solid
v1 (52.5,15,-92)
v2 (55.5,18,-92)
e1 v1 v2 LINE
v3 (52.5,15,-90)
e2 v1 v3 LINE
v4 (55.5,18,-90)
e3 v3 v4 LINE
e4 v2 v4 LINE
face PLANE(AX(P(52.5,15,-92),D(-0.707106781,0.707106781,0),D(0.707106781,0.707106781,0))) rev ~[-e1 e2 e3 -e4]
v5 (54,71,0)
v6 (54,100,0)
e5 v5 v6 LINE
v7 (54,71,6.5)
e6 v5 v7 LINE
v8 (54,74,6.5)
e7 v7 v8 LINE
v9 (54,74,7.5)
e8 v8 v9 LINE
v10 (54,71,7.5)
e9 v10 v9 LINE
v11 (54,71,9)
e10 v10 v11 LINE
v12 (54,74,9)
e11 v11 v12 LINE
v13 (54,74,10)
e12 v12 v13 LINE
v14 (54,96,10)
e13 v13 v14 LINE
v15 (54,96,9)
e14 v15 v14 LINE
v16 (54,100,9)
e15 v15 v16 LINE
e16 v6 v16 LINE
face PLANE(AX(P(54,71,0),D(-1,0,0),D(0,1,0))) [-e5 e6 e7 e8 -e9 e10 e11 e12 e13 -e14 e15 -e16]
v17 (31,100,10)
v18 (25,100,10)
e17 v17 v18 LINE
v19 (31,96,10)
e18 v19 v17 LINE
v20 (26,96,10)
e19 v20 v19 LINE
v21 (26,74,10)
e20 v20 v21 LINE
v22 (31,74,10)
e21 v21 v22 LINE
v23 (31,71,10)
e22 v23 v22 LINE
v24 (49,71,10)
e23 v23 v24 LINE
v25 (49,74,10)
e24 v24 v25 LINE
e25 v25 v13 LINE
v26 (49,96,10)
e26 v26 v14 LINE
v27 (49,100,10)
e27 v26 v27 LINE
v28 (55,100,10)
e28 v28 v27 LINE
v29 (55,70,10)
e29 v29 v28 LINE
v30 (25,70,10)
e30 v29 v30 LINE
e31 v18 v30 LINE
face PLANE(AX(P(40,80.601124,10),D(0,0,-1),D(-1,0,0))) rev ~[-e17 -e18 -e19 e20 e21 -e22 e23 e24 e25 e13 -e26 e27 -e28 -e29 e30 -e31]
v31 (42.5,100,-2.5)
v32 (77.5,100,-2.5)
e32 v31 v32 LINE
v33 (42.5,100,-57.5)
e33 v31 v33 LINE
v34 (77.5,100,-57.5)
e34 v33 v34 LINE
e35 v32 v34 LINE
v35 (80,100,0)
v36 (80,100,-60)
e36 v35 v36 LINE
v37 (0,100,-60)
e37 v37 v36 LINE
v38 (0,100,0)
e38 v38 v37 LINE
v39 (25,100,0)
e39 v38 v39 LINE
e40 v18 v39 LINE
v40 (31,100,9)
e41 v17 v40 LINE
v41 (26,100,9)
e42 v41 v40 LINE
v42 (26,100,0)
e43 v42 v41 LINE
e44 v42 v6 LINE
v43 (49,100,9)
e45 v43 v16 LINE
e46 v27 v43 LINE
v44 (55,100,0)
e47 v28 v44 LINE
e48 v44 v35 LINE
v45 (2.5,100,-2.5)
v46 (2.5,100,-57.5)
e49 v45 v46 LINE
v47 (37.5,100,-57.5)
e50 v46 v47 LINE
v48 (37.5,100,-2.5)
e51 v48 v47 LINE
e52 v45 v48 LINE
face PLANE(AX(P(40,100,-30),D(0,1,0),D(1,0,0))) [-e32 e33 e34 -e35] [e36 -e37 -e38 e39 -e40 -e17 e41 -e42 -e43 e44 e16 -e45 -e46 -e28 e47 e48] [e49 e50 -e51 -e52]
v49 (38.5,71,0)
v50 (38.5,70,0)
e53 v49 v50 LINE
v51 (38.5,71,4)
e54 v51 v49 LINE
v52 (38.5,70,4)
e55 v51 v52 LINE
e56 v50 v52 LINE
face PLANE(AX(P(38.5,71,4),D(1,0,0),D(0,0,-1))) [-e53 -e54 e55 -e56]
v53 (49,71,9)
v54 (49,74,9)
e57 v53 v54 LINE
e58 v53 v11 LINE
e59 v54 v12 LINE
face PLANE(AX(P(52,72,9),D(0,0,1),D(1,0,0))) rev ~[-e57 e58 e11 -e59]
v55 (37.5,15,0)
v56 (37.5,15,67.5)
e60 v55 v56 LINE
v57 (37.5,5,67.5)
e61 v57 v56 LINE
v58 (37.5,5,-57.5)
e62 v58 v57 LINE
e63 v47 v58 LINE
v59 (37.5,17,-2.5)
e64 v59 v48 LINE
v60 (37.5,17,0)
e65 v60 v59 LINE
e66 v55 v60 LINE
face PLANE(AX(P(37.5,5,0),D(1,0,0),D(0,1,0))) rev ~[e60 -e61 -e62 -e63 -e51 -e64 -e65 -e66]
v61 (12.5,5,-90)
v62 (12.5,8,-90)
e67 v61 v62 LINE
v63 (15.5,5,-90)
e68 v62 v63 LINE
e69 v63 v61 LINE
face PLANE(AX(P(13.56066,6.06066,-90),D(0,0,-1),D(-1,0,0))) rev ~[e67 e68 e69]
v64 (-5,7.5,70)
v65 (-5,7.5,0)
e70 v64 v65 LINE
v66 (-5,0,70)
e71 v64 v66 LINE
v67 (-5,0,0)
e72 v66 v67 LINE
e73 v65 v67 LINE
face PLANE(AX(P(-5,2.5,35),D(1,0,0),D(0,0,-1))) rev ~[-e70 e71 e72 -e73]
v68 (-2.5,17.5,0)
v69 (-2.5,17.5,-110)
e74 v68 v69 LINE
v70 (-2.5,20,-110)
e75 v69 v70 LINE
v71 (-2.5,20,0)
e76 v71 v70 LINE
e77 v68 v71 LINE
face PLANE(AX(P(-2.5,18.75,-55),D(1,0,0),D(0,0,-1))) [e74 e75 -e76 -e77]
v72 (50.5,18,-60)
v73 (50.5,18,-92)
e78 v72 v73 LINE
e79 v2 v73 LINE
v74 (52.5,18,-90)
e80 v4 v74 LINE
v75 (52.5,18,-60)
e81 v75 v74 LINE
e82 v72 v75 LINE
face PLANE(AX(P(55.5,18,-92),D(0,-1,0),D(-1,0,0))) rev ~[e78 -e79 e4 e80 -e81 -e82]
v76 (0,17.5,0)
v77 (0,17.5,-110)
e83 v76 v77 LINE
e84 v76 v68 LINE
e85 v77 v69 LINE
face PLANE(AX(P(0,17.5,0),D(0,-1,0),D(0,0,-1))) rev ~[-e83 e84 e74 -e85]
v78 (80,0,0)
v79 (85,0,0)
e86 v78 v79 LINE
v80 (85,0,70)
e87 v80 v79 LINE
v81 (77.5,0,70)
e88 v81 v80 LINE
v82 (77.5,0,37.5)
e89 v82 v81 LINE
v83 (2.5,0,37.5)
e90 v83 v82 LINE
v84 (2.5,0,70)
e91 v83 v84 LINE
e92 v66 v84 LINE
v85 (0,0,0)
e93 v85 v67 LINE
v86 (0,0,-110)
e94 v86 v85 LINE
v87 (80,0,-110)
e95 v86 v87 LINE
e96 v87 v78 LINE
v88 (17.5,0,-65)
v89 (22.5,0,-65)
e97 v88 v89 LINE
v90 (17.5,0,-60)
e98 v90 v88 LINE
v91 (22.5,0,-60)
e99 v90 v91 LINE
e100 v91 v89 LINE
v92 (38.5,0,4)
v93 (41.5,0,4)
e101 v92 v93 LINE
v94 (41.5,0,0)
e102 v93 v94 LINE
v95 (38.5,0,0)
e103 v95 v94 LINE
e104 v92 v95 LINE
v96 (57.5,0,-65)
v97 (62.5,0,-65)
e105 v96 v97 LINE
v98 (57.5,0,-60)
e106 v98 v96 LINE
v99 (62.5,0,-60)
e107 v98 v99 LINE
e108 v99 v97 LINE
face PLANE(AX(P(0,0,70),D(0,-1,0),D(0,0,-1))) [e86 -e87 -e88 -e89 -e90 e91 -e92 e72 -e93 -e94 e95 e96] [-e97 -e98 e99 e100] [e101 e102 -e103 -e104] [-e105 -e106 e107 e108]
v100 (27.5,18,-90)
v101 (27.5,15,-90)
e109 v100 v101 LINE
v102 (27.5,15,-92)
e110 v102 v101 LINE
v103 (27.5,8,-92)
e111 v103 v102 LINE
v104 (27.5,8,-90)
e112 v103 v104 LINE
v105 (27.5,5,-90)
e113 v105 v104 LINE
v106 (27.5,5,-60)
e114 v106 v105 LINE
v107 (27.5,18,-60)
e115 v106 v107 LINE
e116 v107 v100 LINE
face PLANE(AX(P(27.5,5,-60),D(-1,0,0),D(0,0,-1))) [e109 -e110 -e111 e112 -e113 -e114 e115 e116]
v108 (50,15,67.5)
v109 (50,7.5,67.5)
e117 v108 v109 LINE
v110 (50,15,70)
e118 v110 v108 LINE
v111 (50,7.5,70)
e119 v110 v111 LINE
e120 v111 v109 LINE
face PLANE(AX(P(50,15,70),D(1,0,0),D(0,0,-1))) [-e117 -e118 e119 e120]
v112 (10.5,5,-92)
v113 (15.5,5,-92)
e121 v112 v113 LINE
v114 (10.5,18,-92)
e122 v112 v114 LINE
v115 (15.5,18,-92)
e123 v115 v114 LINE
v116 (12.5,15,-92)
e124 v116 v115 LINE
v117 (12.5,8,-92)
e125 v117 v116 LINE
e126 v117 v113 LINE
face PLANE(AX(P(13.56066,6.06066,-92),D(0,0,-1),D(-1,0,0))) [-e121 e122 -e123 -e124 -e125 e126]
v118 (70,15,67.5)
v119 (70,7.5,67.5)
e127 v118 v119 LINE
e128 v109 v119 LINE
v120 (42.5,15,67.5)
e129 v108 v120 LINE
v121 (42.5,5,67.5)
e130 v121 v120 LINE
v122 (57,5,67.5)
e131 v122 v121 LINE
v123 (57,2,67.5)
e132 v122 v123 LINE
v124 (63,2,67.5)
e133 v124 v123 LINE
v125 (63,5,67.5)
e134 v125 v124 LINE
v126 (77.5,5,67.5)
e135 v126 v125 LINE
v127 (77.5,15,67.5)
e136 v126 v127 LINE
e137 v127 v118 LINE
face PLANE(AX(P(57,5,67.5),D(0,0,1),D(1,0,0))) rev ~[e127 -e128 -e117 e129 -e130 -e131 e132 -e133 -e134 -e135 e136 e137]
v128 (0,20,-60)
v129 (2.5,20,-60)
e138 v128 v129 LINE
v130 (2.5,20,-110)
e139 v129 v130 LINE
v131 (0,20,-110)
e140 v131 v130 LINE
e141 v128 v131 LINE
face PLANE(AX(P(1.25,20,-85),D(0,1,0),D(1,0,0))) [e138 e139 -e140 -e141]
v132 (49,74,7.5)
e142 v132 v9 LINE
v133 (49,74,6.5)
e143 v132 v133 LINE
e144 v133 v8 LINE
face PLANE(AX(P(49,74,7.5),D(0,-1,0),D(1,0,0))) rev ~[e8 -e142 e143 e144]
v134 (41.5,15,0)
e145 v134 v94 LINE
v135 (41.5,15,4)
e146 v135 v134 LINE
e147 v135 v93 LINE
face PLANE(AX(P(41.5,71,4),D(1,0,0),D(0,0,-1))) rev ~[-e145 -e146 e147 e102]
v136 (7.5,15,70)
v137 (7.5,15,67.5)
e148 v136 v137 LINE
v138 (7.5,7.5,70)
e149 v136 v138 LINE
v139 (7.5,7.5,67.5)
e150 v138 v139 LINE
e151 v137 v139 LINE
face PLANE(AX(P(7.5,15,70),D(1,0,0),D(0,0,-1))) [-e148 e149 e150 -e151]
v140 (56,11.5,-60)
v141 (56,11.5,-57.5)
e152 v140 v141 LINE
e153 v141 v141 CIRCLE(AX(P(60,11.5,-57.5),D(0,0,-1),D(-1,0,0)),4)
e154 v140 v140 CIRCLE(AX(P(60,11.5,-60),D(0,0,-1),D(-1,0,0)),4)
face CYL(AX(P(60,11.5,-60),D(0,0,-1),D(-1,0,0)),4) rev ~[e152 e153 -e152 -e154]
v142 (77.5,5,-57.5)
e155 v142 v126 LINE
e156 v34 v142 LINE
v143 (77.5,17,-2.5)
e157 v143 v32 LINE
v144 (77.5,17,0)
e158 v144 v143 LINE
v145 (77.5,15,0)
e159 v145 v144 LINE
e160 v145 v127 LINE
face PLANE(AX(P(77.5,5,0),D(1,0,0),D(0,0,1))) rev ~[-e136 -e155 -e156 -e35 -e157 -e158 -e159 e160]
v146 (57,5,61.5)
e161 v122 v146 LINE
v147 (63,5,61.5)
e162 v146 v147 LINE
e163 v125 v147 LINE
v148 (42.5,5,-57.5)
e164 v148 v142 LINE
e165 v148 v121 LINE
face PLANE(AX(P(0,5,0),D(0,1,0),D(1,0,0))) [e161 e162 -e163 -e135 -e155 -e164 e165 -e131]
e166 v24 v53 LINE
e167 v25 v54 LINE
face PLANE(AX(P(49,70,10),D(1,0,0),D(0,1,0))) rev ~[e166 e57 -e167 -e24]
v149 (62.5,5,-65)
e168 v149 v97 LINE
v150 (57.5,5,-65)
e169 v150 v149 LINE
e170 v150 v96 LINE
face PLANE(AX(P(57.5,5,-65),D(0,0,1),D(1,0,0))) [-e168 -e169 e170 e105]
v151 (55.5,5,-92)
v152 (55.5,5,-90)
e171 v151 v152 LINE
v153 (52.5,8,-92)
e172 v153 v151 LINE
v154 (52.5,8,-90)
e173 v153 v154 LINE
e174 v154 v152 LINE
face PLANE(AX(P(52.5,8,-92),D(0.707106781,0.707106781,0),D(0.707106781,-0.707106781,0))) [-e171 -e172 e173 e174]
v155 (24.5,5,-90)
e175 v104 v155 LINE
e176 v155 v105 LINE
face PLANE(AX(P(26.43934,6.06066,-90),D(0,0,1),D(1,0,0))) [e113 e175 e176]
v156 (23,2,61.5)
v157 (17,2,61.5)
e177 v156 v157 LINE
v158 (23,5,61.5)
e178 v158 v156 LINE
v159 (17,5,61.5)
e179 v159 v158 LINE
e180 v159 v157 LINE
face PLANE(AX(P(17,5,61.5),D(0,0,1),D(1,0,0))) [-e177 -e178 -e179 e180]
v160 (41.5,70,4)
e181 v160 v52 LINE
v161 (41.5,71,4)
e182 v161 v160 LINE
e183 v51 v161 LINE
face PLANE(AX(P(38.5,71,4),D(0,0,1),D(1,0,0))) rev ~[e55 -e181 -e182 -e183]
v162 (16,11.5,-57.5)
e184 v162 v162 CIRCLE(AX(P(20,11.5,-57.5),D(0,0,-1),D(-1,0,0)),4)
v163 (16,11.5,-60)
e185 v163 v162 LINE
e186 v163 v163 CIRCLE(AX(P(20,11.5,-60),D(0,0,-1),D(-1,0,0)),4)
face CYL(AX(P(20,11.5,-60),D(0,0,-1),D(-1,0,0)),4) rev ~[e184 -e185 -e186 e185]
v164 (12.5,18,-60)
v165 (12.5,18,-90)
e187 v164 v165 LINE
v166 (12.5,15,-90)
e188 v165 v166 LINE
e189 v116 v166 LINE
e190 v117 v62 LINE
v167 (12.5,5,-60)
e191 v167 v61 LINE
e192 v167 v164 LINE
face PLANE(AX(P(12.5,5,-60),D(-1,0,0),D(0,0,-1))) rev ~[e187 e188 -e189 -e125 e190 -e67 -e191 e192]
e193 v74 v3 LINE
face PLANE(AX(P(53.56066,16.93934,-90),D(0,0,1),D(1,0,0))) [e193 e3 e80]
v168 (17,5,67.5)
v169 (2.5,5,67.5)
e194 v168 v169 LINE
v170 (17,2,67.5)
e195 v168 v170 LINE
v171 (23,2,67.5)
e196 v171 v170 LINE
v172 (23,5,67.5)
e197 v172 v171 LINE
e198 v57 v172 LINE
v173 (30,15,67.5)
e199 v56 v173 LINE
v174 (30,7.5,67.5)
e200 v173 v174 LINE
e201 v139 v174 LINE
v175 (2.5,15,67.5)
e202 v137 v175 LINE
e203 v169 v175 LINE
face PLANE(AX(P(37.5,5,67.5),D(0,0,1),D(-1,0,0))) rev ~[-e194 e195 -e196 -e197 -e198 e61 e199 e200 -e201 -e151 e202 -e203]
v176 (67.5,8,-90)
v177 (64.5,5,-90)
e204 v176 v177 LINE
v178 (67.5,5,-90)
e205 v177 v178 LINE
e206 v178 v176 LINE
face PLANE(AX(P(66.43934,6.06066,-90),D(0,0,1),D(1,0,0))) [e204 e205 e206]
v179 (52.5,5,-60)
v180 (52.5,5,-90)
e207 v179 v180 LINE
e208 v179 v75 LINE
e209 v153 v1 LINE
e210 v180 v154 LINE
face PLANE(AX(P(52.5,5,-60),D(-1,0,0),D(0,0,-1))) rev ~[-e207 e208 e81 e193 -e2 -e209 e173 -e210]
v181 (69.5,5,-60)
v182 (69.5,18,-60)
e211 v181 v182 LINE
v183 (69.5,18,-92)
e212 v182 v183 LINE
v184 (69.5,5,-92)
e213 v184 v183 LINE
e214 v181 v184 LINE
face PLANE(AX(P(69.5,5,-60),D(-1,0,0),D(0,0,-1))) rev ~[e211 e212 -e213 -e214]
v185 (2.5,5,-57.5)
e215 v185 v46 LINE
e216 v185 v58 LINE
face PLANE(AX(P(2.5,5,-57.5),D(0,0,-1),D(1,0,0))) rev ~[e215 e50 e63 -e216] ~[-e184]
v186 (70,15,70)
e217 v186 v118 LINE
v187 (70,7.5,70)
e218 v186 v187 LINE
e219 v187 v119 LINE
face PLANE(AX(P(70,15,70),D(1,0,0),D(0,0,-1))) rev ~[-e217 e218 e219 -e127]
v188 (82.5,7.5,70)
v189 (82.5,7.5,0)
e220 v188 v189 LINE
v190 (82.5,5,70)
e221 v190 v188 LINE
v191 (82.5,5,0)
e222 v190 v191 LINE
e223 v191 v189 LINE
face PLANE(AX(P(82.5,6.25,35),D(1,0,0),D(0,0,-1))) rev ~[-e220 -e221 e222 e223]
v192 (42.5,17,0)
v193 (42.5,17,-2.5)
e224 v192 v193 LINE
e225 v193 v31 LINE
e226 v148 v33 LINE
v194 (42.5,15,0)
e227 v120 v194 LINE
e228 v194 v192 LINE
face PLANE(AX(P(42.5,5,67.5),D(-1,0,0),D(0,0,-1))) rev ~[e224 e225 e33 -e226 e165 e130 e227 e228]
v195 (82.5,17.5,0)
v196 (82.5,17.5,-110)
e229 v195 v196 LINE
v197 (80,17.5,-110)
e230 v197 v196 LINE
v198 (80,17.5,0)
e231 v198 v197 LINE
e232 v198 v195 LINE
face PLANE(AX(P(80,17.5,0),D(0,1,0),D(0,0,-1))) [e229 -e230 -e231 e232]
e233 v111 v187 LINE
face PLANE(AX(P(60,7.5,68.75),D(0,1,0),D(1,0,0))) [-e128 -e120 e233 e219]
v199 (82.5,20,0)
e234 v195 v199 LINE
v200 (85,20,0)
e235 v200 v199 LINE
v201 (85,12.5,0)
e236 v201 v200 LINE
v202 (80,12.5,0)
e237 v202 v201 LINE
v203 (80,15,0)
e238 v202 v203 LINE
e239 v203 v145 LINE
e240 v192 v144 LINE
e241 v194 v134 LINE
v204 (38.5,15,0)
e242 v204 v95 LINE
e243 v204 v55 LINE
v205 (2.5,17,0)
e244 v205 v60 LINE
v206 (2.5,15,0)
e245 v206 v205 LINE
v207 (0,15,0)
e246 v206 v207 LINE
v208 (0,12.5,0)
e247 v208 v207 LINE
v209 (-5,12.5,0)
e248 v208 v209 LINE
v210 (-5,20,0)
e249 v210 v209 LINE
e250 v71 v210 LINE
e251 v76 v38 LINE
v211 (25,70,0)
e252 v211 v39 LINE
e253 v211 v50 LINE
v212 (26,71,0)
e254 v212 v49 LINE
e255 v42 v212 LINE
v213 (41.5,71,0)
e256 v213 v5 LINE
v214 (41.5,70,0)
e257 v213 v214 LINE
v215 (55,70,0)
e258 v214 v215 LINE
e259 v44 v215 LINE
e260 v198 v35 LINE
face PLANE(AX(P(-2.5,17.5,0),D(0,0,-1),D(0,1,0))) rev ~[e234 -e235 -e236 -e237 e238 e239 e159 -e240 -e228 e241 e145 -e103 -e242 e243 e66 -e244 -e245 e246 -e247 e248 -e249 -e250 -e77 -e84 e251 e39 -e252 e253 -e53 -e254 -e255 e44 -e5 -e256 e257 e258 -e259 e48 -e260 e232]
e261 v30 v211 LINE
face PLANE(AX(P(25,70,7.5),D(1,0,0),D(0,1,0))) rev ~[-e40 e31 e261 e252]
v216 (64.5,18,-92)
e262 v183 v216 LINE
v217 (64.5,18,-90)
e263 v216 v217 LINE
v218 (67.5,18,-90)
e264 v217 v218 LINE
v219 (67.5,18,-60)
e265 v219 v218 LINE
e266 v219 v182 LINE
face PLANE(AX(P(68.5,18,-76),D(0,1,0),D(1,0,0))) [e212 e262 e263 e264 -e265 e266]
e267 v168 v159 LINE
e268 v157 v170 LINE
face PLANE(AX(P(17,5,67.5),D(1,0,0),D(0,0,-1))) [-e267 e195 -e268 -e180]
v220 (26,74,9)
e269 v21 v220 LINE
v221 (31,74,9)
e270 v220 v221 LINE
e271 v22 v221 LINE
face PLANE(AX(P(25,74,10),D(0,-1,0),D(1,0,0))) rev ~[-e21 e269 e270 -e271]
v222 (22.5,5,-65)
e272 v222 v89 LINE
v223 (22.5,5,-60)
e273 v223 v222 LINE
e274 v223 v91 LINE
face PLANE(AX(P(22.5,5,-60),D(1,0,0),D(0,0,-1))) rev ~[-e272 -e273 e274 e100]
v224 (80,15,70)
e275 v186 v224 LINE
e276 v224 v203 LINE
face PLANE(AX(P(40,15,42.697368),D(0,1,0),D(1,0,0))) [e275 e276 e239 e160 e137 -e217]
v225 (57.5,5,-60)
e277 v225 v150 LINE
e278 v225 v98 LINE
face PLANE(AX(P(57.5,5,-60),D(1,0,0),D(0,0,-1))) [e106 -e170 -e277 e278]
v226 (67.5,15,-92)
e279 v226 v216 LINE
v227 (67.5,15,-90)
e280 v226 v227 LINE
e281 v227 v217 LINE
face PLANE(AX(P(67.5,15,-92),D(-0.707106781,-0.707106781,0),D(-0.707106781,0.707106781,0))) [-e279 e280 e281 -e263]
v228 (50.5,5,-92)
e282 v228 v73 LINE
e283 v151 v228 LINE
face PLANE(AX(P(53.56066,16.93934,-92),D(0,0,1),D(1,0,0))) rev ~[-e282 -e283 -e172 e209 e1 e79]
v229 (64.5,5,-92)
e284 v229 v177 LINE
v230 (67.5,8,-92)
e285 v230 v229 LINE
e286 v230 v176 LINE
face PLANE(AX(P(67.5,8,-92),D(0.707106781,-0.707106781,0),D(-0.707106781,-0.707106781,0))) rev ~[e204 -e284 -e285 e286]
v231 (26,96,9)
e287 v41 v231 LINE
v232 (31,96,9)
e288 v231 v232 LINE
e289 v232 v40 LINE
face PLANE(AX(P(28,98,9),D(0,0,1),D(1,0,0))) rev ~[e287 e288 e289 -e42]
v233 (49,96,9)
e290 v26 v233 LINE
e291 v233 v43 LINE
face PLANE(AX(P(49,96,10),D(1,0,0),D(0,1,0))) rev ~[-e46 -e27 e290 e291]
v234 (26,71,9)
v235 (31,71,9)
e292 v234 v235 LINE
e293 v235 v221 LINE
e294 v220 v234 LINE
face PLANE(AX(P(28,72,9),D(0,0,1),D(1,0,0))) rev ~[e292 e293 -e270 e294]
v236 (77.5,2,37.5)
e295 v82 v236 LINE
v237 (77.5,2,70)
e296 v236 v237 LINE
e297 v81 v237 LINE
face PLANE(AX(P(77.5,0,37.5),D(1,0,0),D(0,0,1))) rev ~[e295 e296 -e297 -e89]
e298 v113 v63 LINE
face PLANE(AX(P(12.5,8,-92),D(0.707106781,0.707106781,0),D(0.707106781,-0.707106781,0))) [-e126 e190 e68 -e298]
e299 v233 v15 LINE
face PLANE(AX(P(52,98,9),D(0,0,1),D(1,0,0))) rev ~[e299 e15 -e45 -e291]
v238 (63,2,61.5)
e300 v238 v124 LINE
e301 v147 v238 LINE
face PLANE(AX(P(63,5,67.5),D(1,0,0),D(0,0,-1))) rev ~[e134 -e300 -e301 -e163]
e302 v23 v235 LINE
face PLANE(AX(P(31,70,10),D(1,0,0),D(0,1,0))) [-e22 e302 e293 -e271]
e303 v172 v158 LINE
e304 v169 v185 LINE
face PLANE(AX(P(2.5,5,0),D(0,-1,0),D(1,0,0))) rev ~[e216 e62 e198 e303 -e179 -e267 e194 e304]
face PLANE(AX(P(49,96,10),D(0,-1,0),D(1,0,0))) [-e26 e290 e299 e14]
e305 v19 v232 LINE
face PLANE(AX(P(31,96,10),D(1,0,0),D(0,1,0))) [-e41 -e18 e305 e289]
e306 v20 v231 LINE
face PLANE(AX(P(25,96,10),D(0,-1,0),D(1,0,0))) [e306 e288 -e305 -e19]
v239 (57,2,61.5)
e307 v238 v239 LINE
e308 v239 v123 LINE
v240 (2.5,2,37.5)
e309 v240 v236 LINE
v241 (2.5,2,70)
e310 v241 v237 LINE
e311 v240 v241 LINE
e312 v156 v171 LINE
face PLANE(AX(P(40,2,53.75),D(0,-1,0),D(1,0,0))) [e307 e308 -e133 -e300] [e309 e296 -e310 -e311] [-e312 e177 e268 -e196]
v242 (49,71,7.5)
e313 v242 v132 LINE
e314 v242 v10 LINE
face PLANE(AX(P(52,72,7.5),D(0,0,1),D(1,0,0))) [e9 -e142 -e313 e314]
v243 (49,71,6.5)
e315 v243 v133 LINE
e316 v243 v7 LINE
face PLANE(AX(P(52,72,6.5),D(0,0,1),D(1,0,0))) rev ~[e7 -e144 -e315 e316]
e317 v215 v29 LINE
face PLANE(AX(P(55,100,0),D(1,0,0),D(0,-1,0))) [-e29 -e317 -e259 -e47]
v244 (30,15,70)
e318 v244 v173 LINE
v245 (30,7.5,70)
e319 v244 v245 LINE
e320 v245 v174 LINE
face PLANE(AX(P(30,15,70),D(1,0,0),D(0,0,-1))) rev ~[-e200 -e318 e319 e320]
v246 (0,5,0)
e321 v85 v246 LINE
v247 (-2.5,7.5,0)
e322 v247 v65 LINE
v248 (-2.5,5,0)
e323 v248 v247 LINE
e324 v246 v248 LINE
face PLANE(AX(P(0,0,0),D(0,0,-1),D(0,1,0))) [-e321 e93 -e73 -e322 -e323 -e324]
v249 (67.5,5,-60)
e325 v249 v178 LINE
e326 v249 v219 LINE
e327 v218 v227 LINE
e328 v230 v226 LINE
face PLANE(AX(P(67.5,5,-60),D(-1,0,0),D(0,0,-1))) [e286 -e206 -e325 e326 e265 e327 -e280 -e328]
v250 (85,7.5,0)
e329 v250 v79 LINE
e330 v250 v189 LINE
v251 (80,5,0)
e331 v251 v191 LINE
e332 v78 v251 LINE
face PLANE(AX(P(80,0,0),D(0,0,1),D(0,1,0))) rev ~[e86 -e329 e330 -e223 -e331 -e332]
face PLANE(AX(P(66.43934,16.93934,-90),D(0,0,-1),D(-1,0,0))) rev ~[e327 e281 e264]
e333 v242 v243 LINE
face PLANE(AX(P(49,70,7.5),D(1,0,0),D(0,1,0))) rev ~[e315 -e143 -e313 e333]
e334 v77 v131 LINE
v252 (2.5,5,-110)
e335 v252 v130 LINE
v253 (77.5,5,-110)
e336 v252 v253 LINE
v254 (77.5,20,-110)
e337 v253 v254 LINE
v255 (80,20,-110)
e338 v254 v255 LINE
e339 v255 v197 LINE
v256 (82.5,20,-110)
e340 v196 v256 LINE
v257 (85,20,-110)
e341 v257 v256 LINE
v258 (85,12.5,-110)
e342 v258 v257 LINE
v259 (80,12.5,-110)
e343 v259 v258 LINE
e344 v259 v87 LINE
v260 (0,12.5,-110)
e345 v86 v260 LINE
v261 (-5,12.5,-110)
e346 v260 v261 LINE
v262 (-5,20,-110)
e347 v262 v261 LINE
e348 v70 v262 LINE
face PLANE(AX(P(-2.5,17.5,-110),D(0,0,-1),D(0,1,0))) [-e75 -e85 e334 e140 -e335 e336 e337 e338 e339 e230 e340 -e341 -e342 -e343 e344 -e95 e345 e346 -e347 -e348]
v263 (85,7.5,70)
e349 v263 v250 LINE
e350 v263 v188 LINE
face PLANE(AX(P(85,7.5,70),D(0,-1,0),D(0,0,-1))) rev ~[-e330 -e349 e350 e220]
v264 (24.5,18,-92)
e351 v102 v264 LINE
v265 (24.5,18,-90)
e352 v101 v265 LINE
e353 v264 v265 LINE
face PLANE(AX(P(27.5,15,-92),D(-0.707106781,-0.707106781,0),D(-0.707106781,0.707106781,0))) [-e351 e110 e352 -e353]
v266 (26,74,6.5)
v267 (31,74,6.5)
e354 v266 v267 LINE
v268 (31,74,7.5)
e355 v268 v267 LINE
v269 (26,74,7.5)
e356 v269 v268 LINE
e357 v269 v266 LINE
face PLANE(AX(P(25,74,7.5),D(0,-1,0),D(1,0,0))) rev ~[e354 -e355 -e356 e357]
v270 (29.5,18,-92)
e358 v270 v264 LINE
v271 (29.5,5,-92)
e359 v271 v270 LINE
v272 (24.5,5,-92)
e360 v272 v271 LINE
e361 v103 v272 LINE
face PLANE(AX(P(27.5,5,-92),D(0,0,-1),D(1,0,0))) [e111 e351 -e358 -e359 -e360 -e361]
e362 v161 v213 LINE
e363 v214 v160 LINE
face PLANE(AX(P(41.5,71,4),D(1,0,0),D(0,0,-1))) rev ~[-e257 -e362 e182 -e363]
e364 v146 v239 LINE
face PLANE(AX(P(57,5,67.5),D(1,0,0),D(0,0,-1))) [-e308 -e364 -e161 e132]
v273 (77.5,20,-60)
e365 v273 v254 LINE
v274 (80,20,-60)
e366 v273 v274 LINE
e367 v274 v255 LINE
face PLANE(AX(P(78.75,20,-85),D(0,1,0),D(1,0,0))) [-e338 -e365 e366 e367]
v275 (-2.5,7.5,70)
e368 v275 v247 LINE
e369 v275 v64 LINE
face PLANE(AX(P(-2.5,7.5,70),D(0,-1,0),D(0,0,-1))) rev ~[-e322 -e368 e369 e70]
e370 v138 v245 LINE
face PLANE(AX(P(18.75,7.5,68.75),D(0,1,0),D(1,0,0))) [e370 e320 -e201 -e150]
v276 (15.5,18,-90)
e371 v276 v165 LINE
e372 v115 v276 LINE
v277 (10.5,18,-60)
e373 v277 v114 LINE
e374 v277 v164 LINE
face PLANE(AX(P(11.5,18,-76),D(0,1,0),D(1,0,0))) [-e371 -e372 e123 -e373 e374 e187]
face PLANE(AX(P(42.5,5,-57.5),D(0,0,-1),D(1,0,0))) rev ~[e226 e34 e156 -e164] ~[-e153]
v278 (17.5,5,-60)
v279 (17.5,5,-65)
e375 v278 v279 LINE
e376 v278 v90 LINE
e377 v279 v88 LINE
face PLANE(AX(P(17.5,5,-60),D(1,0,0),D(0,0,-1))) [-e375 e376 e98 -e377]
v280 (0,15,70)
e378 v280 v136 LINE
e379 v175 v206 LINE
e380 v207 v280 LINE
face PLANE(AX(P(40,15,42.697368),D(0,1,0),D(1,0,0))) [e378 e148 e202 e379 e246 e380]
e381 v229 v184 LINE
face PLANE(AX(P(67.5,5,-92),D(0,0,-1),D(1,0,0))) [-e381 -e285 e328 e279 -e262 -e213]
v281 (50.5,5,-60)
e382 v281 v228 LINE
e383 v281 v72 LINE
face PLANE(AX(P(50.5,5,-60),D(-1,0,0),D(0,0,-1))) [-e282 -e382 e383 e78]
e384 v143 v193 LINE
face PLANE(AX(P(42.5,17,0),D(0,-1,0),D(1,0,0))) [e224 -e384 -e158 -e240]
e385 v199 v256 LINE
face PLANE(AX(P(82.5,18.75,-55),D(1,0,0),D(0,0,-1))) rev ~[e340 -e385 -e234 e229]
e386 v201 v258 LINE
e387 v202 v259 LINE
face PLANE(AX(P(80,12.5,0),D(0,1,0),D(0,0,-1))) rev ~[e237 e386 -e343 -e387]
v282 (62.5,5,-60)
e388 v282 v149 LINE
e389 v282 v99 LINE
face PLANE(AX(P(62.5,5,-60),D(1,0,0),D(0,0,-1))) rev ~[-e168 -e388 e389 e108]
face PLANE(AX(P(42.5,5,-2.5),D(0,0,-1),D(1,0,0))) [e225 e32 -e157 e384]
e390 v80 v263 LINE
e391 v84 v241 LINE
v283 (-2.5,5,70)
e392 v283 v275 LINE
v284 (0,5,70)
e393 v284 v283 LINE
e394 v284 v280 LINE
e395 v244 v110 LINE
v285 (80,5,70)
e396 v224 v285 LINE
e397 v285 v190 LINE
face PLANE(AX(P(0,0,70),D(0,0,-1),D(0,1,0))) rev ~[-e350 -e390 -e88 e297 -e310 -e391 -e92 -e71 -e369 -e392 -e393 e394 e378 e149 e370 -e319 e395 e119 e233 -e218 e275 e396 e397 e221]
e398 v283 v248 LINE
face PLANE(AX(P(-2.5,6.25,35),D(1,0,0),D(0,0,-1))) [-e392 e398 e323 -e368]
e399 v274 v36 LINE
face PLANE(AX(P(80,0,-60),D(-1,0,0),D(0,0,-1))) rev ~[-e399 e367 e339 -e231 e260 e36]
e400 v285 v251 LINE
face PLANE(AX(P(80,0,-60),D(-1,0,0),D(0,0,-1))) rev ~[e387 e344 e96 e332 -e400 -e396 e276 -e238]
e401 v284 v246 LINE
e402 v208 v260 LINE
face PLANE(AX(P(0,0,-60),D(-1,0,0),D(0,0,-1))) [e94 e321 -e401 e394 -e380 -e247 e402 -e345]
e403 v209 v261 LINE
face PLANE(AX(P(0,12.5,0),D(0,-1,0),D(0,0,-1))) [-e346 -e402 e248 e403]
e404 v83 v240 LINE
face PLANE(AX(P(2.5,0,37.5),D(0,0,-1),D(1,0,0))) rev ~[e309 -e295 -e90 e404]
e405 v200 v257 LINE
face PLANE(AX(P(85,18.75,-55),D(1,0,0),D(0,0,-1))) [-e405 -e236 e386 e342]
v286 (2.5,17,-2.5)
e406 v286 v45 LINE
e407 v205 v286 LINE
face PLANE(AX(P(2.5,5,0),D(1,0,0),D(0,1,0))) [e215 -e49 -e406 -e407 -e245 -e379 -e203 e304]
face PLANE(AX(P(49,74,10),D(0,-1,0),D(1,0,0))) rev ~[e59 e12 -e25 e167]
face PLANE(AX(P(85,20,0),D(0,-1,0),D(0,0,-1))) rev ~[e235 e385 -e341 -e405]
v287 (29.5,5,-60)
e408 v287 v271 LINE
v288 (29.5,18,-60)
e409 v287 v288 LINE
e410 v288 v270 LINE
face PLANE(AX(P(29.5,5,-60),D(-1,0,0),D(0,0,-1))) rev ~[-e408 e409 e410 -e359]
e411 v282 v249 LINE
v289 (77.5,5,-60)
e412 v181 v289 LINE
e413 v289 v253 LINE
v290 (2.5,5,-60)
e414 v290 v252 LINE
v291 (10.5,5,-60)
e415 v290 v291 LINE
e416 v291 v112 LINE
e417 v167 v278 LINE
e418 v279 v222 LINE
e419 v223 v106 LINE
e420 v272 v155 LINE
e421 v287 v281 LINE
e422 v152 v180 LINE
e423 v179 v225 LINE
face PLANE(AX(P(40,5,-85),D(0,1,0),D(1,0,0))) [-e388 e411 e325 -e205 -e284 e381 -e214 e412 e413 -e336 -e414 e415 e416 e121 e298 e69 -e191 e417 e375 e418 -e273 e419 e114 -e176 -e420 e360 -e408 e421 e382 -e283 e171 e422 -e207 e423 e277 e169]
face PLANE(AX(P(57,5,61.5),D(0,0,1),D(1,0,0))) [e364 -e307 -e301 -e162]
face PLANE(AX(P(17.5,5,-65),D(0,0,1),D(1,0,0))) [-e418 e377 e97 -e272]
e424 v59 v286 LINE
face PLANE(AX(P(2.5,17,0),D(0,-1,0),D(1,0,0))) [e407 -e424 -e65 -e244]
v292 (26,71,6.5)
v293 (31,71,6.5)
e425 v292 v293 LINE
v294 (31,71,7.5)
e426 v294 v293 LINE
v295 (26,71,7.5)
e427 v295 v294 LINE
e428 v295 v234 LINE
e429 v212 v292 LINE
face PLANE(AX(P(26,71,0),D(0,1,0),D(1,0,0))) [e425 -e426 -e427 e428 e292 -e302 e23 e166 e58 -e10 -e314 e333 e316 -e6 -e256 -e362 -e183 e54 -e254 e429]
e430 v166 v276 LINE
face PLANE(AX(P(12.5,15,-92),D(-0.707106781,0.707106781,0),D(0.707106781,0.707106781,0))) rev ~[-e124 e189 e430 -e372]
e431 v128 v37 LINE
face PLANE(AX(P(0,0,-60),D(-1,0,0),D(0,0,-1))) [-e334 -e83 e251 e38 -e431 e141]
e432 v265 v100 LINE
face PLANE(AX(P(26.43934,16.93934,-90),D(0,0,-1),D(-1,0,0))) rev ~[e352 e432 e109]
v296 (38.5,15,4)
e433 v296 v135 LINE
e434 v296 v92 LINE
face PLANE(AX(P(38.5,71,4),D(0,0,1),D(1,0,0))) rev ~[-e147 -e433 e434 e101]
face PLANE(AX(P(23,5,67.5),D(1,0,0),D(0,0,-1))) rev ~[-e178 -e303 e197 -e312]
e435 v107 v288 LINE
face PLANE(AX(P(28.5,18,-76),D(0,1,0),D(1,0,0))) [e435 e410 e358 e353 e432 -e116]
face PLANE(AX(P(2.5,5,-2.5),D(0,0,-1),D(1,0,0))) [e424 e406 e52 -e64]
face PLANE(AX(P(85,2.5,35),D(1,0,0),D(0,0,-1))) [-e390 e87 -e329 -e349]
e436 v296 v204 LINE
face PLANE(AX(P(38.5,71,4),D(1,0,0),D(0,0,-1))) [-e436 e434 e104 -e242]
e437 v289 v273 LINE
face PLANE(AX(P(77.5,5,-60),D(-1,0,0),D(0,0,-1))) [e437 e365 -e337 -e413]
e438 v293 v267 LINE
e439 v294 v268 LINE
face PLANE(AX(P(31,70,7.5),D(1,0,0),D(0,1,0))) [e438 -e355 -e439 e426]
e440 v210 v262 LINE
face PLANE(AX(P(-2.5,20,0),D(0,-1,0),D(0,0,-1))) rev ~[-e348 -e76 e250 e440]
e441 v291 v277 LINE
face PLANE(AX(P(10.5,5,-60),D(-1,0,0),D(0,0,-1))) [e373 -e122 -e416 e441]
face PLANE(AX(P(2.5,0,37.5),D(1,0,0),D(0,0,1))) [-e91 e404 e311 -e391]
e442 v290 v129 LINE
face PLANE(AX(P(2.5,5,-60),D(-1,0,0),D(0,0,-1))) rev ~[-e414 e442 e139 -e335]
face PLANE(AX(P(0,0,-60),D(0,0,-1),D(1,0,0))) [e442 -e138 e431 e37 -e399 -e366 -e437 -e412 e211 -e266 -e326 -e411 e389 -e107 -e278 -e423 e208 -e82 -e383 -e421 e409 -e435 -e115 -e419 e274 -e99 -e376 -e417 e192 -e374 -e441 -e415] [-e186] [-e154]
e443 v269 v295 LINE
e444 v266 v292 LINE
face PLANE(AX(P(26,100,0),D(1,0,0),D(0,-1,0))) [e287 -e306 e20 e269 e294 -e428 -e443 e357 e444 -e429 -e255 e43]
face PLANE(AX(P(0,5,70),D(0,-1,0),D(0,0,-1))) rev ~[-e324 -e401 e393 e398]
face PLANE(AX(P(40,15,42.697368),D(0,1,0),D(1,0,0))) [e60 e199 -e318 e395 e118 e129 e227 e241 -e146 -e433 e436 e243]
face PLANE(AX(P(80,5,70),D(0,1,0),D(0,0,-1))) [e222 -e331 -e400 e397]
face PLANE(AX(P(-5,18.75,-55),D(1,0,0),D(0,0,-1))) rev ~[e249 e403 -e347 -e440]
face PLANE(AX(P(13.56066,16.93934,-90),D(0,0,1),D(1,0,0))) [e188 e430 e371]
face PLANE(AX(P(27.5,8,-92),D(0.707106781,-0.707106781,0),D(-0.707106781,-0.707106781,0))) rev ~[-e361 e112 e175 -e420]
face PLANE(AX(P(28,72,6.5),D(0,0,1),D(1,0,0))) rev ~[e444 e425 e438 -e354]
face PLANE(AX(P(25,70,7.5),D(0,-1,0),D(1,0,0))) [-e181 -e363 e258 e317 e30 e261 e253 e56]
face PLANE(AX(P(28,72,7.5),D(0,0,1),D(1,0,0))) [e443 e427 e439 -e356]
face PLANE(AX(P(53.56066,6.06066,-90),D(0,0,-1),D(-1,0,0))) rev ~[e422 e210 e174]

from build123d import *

# Parameters (mm, degrees)
SKETCH1_W                                   = 80
SKETCH1_H                                   = 60
BOSS_EXTRUDE1_DEPTH                         = 100
CUT_EXTRUDE1_START                          = 5
SKETCH2_W                                   = 35
SKETCH2_H                                   = 55
CUT_EXTRUDE1_DEPTH                          = 95
SKETCH3_W                                   = 80
SKETCH3_H                                   = 5
BOSS_EXTRUDE2_DEPTH                         = 70
BOSS_EXTRUDE3_DEPTH                         = 10
SKETCH5_W                                   = 22.5
SKETCH5_H                                   = 2.5
SKETCH5_W_2                                 = 20
CUT_EXTRUDE2_DEPTH                          = 7.5
SKETCH6_W                                   = 35
SKETCH6_H                                   = 12
CUT_EXTRUDE4_DEPTH                          = 57.5
CUT_EXTRUDE6_REACH                          = 184.483
SKETCH7_R                                   = 4
SKETCH9_W                                   = 80
SKETCH9_H                                   = 50
BOSS_EXTRUDE4_DEPTH                         = 5
SKETCH11_W                                  = 75
SKETCH11_H                                  = 32.5
CUT_EXTRUDE7_DEPTH                          = 2
SKETCH13_W                                  = 6
SKETCH13_H                                  = 6
CUT_EXTRUDE8_DEPTH                          = 166.90660023
BOSS_EXTRUDE5_DEPTH                         = 10
SKETCH15_W                                  = 6
SKETCH15_H                                  = 4
BOSS_EXTRUDE6_DEPTH                         = 1
BOSS_EXTRUDE7_START                         = -2.5
SKETCH15_2_W                                = 6
SKETCH15_2_H                                = 4
BOSS_EXTRUDE7_DEPTH                         = 1
SKETCH17_W                                  = 6
SKETCH17_H                                  = 4
BOSS_EXTRUDE8_DEPTH                         = 1
SKETCH18_W                                  = 3
SKETCH18_H                                  = 4
CUT_EXTRUDE9_OLED_CABLE_DEPTH               = 154.430766146
SKETCH20_W                                  = 5
SKETCH20_H                                  = 5
CUT_EXTRUDE10_SOLENOID_WIRE_DEPTH           = 166.90660023
SKETCH21_W                                  = 2
SKETCH21_H                                  = 32
BOSS_EXTRUDE9_SOLENOID_SIDE_SUPPORT_DEPTH   = 13
BOSS_EXTRUDE12_SOLENOID_REAR_SUPPORT_DEPTH  = 2
SKETCH27_W                                  = 2.5
SKETCH27_H                                  = 50
BOSS_EXTRUDE13_SOLENOID_SECTION_WALLS_DEPTH = 15
SKETCH29_W                                  = 70
SKETCH29_H                                  = 5
SKETCH29_W_2                                = 110
BOSS_EXTRUDE14_GUIDE_DEPTH                  = 5
BOSS_EXTRUDE15_START                        = -80
SKETCH29_2_W                                = 70
SKETCH29_2_H                                = 5
SKETCH29_2_W_2                              = 110
BOSS_EXTRUDE15_DEPTH                        = 5
SKETCH30_W                                  = 110
SKETCH30_H                                  = 2.5
SKETCH30_W_2                                = 70
BOSS_EXTRUDE16_DEPTH                        = 2.5
BOSS_EXTRUDE17_START                        = -87.5
SKETCH30_2_W                                = 110
SKETCH30_2_H                                = 2.5
SKETCH30_2_W_2                              = 70
BOSS_EXTRUDE17_DEPTH                        = 2.5


with BuildPart() as part:
    # Sketch1 → Boss-Extrude1 (new body)
    with BuildSketch(Plane(origin=(0, 0, 0), x_dir=(1, 0, 0), z_dir=(0, 1, 0))):
        with Locations((40, 30)):
            Rectangle(SKETCH1_W, SKETCH1_H)
    extrude(amount=BOSS_EXTRUDE1_DEPTH)

    # Sketch2 → Cut-Extrude1 (cut)
    with BuildSketch(Plane(origin=(0, 0, 0), x_dir=(1, 0, 0), z_dir=(0, 1, 0)).offset(CUT_EXTRUDE1_START)):
        with Locations((20, 30)):
            Rectangle(SKETCH2_W, SKETCH2_H)
        with Locations((60, 30)):
            Rectangle(SKETCH2_W, SKETCH2_H)
    extrude(amount=CUT_EXTRUDE1_DEPTH, mode=Mode.SUBTRACT)

    # Sketch3 → Boss-Extrude2 (add)
    with BuildSketch(Plane.XY):
        with Locations((40, 2.5)):
            Rectangle(SKETCH3_W, SKETCH3_H)
    extrude(amount=BOSS_EXTRUDE2_DEPTH)

    # Sketch4 → Boss-Extrude3 (add)
    with BuildSketch(Plane(origin=(0, 5, 0), x_dir=(1, 0, 0), z_dir=(0, 1, 0))):
        Polygon((80, 0), (77.5, 0), (77.5, -67.5), (42.5, -67.5), (42.5, 0), (37.5, 0), (37.5, -67.5), (2.5, -67.5), (2.5, 0), (0, 0), (0, -70), (80, -70), align=None)
    extrude(amount=BOSS_EXTRUDE3_DEPTH)

    # Sketch5 → Cut-Extrude2 (cut)
    with BuildSketch(Plane(origin=(0, 15, 0), x_dir=(1, 0, 0), z_dir=(0, 1, 0))):
        with Locations((18.75, -68.75)):
            Rectangle(SKETCH5_W, SKETCH5_H)
        with Locations((60, -68.75)):
            Rectangle(SKETCH5_W_2, SKETCH5_H)
    extrude(amount=-CUT_EXTRUDE2_DEPTH, mode=Mode.SUBTRACT)

    # Sketch6 → Cut-Extrude4 (cut)
    with BuildSketch(Plane.XY):
        with Locations((20, 11)):
            Rectangle(SKETCH6_W, SKETCH6_H)
        with Locations((60, 11)):
            Rectangle(SKETCH6_W, SKETCH6_H)
    extrude(amount=-CUT_EXTRUDE4_DEPTH, mode=Mode.SUBTRACT)

    # Sketch7 → Cut-Extrude6 (cut, up to next)
    with BuildSketch(Plane(origin=(0, 0, -60), x_dir=(-1, 0, 0), z_dir=(0, 0, -1)), mode=Mode.PRIVATE) as cut_extrude6_sk1:
        with Locations((-20, 11.5)):
            Circle(SKETCH7_R)
    cut_extrude6_tool1 = extrude(cut_extrude6_sk1.sketch, amount=-CUT_EXTRUDE6_REACH, mode=Mode.PRIVATE) & part.part
    # Sketch7 → Cut-Extrude6 (cut, up to next)
    with BuildSketch(Plane(origin=(0, 0, -60), x_dir=(-1, 0, 0), z_dir=(0, 0, -1)), mode=Mode.PRIVATE) as cut_extrude6_sk2:
        with Locations((-60, 11.5)):
            Circle(SKETCH7_R)
    cut_extrude6_tool2 = extrude(cut_extrude6_sk2.sketch, amount=-CUT_EXTRUDE6_REACH, mode=Mode.PRIVATE) & part.part
    add(cut_extrude6_tool1.solids().sort_by_distance((20, 11.5, -60))[0], mode=Mode.SUBTRACT)
    add(cut_extrude6_tool2.solids().sort_by_distance((60, 11.5, -60))[0], mode=Mode.SUBTRACT)

    # Sketch9 → Boss-Extrude4 (add)
    with BuildSketch(Plane(origin=(0, 0, 0), x_dir=(1, 0, 0), z_dir=(0, 1, 0))):
        with Locations((40, 85)):
            Rectangle(SKETCH9_W, SKETCH9_H)
    extrude(amount=BOSS_EXTRUDE4_DEPTH)

    # Sketch11 → Cut-Extrude7 (cut)
    with BuildSketch(Plane.XZ):
        with Locations((40, 53.75)):
            Rectangle(SKETCH11_W, SKETCH11_H)
    extrude(amount=-CUT_EXTRUDE7_DEPTH, mode=Mode.SUBTRACT)

    # Sketch13 → Cut-Extrude8 (cut, through all)
    with BuildSketch(Plane(origin=(0, 5, 0), x_dir=(1, 0, 0), z_dir=(0, 1, 0))):
        with Locations((20, -64.5)):
            Rectangle(SKETCH13_W, SKETCH13_H)
        with Locations((60, -64.5)):
            Rectangle(SKETCH13_W, SKETCH13_H)
    extrude(amount=-CUT_EXTRUDE8_DEPTH, mode=Mode.SUBTRACT)

    # Sketch14 → Boss-Extrude5 (add)
    with BuildSketch(Plane.XY):
        Polygon((25, 100), (26, 100), (26, 71), (54, 71), (54, 100), (55, 100), (55, 70), (54, 70), (26, 70), (25, 70), align=None)
    extrude(amount=BOSS_EXTRUDE5_DEPTH)

    # Sketch15 → Boss-Extrude6 (add)
    with BuildSketch(Plane.XY.offset(10)):
        with Locations((28, 72)):
            Rectangle(SKETCH15_W, SKETCH15_H)
        with Locations((52, 72)):
            Rectangle(SKETCH15_W, SKETCH15_H)
    extrude(amount=-BOSS_EXTRUDE6_DEPTH)

    # Sketch15<2> → Boss-Extrude7 (add)
    with BuildSketch(Plane.XY.offset(10).offset(BOSS_EXTRUDE7_START)):
        with Locations((28, 72)):
            Rectangle(SKETCH15_2_W, SKETCH15_2_H)
        with Locations((52, 72)):
            Rectangle(SKETCH15_2_W, SKETCH15_2_H)
    extrude(amount=-BOSS_EXTRUDE7_DEPTH)

    # Sketch17 → Boss-Extrude8 (add)
    with BuildSketch(Plane.XY.offset(10)):
        with Locations((28, 98)):
            Rectangle(SKETCH17_W, SKETCH17_H)
        with Locations((52, 98)):
            Rectangle(SKETCH17_W, SKETCH17_H)
    extrude(amount=-BOSS_EXTRUDE8_DEPTH)

    # Sketch18 → Cut-Extrude9 (OLED Cable) (cut, through all)
    with BuildSketch(Plane(origin=(0, 71, 0), x_dir=(1, 0, 0), z_dir=(0, 1, 0))):
        with Locations((40, -2)):
            Rectangle(SKETCH18_W, SKETCH18_H)
    extrude(amount=-CUT_EXTRUDE9_OLED_CABLE_DEPTH, mode=Mode.SUBTRACT)

    # Sketch20 → Cut-Extrude10 (Solenoid Wire) (cut, through all)
    with BuildSketch(Plane(origin=(0, 5, 0), x_dir=(1, 0, 0), z_dir=(0, 1, 0))):
        with Locations((60, 62.5)):
            Rectangle(SKETCH20_W, SKETCH20_H)
        with Locations((20, 62.5)):
            Rectangle(SKETCH20_W, SKETCH20_H)
    extrude(amount=-CUT_EXTRUDE10_SOLENOID_WIRE_DEPTH, mode=Mode.SUBTRACT)

    # Sketch21 → Boss-Extrude9 (Solenoid Side Support) (add)
    with BuildSketch(Plane(origin=(0, 5, 0), x_dir=(1, 0, 0), z_dir=(0, 1, 0))):
        with Locations((68.5, 76)):
            Rectangle(SKETCH21_W, SKETCH21_H)
        with Locations((51.5, 76)):
            Rectangle(SKETCH21_W, SKETCH21_H)
        with Locations((28.5, 76)):
            Rectangle(SKETCH21_W, SKETCH21_H)
        with Locations((11.5, 76)):
            Rectangle(SKETCH21_W, SKETCH21_H)
    extrude(amount=BOSS_EXTRUDE9_SOLENOID_SIDE_SUPPORT_DEPTH)

    # Sketch25 → Boss-Extrude12 (Solenoid Rear Support) (add)
    with BuildSketch(Plane(origin=(0, 0, -92), x_dir=(-1, 0, 0), z_dir=(0, 0, -1))):
        Polygon((-55.5, 18), (-52.5, 18), (-52.5, 15), align=None)
        Polygon((-52.5, 5), (-52.5, 8), (-55.5, 5), align=None)
        Polygon((-67.5, 18), (-67.5, 15), (-64.5, 18), align=None)
        Polygon((-64.5, 5), (-67.5, 5), (-67.5, 8), align=None)
        Polygon((-15.5, 18), (-12.5, 18), (-12.5, 15), align=None)
        Polygon((-12.5, 5), (-12.5, 8), (-15.5, 5), align=None)
        Polygon((-27.5, 18), (-27.5, 15), (-24.5, 18), align=None)
        Polygon((-24.5, 5), (-27.5, 5), (-27.5, 8), align=None)
    extrude(amount=-BOSS_EXTRUDE12_SOLENOID_REAR_SUPPORT_DEPTH)

    # Sketch27 → Boss-Extrude13 (Solenoid Section Walls) (add)
    with BuildSketch(Plane(origin=(0, 5, 0), x_dir=(1, 0, 0), z_dir=(0, 1, 0))):
        with Locations((78.75, 85)):
            Rectangle(SKETCH27_W, SKETCH27_H)
        with Locations((1.25, 85)):
            Rectangle(SKETCH27_W, SKETCH27_H)
    extrude(amount=BOSS_EXTRUDE13_SOLENOID_SECTION_WALLS_DEPTH)

    # Sketch29 → Boss-Extrude14 (Guide) (add)
    with BuildSketch(Plane(origin=(80, 0, 0), x_dir=(0, 0, -1), z_dir=(1, 0, 0))):
        with Locations((-35, 2.5)):
            Rectangle(SKETCH29_W, SKETCH29_H)
        with Locations((55, 15)):
            Rectangle(SKETCH29_W_2, SKETCH29_H)
    extrude(amount=BOSS_EXTRUDE14_GUIDE_DEPTH)

    # Sketch29<2> → Boss-Extrude15 (add)
    with BuildSketch(Plane(origin=(80, 0, 0), x_dir=(0, 0, -1), z_dir=(1, 0, 0)).offset(BOSS_EXTRUDE15_START)):
        with Locations((-35, 2.5)):
            Rectangle(SKETCH29_2_W, SKETCH29_2_H)
        with Locations((55, 15)):
            Rectangle(SKETCH29_2_W_2, SKETCH29_2_H)
    extrude(amount=-BOSS_EXTRUDE15_DEPTH)

    # Sketch30 → Boss-Extrude16 (add)
    with BuildSketch(Plane(origin=(85, 0, 0), x_dir=(0, 0, -1), z_dir=(1, 0, 0))):
        with Locations((55, 18.75)):
            Rectangle(SKETCH30_W, SKETCH30_H)
        with Locations((-35, 6.25)):
            Rectangle(SKETCH30_W_2, SKETCH30_H)
    extrude(amount=-BOSS_EXTRUDE16_DEPTH)

    # Sketch30<2> → Boss-Extrude17 (add)
    with BuildSketch(Plane(origin=(85, 0, 0), x_dir=(0, 0, -1), z_dir=(1, 0, 0)).offset(BOSS_EXTRUDE17_START)):
        with Locations((55, 18.75)):
            Rectangle(SKETCH30_2_W, SKETCH30_2_H)
        with Locations((-35, 6.25)):
            Rectangle(SKETCH30_2_W_2, SKETCH30_2_H)
    extrude(amount=-BOSS_EXTRUDE17_DEPTH)


solid = part.part
